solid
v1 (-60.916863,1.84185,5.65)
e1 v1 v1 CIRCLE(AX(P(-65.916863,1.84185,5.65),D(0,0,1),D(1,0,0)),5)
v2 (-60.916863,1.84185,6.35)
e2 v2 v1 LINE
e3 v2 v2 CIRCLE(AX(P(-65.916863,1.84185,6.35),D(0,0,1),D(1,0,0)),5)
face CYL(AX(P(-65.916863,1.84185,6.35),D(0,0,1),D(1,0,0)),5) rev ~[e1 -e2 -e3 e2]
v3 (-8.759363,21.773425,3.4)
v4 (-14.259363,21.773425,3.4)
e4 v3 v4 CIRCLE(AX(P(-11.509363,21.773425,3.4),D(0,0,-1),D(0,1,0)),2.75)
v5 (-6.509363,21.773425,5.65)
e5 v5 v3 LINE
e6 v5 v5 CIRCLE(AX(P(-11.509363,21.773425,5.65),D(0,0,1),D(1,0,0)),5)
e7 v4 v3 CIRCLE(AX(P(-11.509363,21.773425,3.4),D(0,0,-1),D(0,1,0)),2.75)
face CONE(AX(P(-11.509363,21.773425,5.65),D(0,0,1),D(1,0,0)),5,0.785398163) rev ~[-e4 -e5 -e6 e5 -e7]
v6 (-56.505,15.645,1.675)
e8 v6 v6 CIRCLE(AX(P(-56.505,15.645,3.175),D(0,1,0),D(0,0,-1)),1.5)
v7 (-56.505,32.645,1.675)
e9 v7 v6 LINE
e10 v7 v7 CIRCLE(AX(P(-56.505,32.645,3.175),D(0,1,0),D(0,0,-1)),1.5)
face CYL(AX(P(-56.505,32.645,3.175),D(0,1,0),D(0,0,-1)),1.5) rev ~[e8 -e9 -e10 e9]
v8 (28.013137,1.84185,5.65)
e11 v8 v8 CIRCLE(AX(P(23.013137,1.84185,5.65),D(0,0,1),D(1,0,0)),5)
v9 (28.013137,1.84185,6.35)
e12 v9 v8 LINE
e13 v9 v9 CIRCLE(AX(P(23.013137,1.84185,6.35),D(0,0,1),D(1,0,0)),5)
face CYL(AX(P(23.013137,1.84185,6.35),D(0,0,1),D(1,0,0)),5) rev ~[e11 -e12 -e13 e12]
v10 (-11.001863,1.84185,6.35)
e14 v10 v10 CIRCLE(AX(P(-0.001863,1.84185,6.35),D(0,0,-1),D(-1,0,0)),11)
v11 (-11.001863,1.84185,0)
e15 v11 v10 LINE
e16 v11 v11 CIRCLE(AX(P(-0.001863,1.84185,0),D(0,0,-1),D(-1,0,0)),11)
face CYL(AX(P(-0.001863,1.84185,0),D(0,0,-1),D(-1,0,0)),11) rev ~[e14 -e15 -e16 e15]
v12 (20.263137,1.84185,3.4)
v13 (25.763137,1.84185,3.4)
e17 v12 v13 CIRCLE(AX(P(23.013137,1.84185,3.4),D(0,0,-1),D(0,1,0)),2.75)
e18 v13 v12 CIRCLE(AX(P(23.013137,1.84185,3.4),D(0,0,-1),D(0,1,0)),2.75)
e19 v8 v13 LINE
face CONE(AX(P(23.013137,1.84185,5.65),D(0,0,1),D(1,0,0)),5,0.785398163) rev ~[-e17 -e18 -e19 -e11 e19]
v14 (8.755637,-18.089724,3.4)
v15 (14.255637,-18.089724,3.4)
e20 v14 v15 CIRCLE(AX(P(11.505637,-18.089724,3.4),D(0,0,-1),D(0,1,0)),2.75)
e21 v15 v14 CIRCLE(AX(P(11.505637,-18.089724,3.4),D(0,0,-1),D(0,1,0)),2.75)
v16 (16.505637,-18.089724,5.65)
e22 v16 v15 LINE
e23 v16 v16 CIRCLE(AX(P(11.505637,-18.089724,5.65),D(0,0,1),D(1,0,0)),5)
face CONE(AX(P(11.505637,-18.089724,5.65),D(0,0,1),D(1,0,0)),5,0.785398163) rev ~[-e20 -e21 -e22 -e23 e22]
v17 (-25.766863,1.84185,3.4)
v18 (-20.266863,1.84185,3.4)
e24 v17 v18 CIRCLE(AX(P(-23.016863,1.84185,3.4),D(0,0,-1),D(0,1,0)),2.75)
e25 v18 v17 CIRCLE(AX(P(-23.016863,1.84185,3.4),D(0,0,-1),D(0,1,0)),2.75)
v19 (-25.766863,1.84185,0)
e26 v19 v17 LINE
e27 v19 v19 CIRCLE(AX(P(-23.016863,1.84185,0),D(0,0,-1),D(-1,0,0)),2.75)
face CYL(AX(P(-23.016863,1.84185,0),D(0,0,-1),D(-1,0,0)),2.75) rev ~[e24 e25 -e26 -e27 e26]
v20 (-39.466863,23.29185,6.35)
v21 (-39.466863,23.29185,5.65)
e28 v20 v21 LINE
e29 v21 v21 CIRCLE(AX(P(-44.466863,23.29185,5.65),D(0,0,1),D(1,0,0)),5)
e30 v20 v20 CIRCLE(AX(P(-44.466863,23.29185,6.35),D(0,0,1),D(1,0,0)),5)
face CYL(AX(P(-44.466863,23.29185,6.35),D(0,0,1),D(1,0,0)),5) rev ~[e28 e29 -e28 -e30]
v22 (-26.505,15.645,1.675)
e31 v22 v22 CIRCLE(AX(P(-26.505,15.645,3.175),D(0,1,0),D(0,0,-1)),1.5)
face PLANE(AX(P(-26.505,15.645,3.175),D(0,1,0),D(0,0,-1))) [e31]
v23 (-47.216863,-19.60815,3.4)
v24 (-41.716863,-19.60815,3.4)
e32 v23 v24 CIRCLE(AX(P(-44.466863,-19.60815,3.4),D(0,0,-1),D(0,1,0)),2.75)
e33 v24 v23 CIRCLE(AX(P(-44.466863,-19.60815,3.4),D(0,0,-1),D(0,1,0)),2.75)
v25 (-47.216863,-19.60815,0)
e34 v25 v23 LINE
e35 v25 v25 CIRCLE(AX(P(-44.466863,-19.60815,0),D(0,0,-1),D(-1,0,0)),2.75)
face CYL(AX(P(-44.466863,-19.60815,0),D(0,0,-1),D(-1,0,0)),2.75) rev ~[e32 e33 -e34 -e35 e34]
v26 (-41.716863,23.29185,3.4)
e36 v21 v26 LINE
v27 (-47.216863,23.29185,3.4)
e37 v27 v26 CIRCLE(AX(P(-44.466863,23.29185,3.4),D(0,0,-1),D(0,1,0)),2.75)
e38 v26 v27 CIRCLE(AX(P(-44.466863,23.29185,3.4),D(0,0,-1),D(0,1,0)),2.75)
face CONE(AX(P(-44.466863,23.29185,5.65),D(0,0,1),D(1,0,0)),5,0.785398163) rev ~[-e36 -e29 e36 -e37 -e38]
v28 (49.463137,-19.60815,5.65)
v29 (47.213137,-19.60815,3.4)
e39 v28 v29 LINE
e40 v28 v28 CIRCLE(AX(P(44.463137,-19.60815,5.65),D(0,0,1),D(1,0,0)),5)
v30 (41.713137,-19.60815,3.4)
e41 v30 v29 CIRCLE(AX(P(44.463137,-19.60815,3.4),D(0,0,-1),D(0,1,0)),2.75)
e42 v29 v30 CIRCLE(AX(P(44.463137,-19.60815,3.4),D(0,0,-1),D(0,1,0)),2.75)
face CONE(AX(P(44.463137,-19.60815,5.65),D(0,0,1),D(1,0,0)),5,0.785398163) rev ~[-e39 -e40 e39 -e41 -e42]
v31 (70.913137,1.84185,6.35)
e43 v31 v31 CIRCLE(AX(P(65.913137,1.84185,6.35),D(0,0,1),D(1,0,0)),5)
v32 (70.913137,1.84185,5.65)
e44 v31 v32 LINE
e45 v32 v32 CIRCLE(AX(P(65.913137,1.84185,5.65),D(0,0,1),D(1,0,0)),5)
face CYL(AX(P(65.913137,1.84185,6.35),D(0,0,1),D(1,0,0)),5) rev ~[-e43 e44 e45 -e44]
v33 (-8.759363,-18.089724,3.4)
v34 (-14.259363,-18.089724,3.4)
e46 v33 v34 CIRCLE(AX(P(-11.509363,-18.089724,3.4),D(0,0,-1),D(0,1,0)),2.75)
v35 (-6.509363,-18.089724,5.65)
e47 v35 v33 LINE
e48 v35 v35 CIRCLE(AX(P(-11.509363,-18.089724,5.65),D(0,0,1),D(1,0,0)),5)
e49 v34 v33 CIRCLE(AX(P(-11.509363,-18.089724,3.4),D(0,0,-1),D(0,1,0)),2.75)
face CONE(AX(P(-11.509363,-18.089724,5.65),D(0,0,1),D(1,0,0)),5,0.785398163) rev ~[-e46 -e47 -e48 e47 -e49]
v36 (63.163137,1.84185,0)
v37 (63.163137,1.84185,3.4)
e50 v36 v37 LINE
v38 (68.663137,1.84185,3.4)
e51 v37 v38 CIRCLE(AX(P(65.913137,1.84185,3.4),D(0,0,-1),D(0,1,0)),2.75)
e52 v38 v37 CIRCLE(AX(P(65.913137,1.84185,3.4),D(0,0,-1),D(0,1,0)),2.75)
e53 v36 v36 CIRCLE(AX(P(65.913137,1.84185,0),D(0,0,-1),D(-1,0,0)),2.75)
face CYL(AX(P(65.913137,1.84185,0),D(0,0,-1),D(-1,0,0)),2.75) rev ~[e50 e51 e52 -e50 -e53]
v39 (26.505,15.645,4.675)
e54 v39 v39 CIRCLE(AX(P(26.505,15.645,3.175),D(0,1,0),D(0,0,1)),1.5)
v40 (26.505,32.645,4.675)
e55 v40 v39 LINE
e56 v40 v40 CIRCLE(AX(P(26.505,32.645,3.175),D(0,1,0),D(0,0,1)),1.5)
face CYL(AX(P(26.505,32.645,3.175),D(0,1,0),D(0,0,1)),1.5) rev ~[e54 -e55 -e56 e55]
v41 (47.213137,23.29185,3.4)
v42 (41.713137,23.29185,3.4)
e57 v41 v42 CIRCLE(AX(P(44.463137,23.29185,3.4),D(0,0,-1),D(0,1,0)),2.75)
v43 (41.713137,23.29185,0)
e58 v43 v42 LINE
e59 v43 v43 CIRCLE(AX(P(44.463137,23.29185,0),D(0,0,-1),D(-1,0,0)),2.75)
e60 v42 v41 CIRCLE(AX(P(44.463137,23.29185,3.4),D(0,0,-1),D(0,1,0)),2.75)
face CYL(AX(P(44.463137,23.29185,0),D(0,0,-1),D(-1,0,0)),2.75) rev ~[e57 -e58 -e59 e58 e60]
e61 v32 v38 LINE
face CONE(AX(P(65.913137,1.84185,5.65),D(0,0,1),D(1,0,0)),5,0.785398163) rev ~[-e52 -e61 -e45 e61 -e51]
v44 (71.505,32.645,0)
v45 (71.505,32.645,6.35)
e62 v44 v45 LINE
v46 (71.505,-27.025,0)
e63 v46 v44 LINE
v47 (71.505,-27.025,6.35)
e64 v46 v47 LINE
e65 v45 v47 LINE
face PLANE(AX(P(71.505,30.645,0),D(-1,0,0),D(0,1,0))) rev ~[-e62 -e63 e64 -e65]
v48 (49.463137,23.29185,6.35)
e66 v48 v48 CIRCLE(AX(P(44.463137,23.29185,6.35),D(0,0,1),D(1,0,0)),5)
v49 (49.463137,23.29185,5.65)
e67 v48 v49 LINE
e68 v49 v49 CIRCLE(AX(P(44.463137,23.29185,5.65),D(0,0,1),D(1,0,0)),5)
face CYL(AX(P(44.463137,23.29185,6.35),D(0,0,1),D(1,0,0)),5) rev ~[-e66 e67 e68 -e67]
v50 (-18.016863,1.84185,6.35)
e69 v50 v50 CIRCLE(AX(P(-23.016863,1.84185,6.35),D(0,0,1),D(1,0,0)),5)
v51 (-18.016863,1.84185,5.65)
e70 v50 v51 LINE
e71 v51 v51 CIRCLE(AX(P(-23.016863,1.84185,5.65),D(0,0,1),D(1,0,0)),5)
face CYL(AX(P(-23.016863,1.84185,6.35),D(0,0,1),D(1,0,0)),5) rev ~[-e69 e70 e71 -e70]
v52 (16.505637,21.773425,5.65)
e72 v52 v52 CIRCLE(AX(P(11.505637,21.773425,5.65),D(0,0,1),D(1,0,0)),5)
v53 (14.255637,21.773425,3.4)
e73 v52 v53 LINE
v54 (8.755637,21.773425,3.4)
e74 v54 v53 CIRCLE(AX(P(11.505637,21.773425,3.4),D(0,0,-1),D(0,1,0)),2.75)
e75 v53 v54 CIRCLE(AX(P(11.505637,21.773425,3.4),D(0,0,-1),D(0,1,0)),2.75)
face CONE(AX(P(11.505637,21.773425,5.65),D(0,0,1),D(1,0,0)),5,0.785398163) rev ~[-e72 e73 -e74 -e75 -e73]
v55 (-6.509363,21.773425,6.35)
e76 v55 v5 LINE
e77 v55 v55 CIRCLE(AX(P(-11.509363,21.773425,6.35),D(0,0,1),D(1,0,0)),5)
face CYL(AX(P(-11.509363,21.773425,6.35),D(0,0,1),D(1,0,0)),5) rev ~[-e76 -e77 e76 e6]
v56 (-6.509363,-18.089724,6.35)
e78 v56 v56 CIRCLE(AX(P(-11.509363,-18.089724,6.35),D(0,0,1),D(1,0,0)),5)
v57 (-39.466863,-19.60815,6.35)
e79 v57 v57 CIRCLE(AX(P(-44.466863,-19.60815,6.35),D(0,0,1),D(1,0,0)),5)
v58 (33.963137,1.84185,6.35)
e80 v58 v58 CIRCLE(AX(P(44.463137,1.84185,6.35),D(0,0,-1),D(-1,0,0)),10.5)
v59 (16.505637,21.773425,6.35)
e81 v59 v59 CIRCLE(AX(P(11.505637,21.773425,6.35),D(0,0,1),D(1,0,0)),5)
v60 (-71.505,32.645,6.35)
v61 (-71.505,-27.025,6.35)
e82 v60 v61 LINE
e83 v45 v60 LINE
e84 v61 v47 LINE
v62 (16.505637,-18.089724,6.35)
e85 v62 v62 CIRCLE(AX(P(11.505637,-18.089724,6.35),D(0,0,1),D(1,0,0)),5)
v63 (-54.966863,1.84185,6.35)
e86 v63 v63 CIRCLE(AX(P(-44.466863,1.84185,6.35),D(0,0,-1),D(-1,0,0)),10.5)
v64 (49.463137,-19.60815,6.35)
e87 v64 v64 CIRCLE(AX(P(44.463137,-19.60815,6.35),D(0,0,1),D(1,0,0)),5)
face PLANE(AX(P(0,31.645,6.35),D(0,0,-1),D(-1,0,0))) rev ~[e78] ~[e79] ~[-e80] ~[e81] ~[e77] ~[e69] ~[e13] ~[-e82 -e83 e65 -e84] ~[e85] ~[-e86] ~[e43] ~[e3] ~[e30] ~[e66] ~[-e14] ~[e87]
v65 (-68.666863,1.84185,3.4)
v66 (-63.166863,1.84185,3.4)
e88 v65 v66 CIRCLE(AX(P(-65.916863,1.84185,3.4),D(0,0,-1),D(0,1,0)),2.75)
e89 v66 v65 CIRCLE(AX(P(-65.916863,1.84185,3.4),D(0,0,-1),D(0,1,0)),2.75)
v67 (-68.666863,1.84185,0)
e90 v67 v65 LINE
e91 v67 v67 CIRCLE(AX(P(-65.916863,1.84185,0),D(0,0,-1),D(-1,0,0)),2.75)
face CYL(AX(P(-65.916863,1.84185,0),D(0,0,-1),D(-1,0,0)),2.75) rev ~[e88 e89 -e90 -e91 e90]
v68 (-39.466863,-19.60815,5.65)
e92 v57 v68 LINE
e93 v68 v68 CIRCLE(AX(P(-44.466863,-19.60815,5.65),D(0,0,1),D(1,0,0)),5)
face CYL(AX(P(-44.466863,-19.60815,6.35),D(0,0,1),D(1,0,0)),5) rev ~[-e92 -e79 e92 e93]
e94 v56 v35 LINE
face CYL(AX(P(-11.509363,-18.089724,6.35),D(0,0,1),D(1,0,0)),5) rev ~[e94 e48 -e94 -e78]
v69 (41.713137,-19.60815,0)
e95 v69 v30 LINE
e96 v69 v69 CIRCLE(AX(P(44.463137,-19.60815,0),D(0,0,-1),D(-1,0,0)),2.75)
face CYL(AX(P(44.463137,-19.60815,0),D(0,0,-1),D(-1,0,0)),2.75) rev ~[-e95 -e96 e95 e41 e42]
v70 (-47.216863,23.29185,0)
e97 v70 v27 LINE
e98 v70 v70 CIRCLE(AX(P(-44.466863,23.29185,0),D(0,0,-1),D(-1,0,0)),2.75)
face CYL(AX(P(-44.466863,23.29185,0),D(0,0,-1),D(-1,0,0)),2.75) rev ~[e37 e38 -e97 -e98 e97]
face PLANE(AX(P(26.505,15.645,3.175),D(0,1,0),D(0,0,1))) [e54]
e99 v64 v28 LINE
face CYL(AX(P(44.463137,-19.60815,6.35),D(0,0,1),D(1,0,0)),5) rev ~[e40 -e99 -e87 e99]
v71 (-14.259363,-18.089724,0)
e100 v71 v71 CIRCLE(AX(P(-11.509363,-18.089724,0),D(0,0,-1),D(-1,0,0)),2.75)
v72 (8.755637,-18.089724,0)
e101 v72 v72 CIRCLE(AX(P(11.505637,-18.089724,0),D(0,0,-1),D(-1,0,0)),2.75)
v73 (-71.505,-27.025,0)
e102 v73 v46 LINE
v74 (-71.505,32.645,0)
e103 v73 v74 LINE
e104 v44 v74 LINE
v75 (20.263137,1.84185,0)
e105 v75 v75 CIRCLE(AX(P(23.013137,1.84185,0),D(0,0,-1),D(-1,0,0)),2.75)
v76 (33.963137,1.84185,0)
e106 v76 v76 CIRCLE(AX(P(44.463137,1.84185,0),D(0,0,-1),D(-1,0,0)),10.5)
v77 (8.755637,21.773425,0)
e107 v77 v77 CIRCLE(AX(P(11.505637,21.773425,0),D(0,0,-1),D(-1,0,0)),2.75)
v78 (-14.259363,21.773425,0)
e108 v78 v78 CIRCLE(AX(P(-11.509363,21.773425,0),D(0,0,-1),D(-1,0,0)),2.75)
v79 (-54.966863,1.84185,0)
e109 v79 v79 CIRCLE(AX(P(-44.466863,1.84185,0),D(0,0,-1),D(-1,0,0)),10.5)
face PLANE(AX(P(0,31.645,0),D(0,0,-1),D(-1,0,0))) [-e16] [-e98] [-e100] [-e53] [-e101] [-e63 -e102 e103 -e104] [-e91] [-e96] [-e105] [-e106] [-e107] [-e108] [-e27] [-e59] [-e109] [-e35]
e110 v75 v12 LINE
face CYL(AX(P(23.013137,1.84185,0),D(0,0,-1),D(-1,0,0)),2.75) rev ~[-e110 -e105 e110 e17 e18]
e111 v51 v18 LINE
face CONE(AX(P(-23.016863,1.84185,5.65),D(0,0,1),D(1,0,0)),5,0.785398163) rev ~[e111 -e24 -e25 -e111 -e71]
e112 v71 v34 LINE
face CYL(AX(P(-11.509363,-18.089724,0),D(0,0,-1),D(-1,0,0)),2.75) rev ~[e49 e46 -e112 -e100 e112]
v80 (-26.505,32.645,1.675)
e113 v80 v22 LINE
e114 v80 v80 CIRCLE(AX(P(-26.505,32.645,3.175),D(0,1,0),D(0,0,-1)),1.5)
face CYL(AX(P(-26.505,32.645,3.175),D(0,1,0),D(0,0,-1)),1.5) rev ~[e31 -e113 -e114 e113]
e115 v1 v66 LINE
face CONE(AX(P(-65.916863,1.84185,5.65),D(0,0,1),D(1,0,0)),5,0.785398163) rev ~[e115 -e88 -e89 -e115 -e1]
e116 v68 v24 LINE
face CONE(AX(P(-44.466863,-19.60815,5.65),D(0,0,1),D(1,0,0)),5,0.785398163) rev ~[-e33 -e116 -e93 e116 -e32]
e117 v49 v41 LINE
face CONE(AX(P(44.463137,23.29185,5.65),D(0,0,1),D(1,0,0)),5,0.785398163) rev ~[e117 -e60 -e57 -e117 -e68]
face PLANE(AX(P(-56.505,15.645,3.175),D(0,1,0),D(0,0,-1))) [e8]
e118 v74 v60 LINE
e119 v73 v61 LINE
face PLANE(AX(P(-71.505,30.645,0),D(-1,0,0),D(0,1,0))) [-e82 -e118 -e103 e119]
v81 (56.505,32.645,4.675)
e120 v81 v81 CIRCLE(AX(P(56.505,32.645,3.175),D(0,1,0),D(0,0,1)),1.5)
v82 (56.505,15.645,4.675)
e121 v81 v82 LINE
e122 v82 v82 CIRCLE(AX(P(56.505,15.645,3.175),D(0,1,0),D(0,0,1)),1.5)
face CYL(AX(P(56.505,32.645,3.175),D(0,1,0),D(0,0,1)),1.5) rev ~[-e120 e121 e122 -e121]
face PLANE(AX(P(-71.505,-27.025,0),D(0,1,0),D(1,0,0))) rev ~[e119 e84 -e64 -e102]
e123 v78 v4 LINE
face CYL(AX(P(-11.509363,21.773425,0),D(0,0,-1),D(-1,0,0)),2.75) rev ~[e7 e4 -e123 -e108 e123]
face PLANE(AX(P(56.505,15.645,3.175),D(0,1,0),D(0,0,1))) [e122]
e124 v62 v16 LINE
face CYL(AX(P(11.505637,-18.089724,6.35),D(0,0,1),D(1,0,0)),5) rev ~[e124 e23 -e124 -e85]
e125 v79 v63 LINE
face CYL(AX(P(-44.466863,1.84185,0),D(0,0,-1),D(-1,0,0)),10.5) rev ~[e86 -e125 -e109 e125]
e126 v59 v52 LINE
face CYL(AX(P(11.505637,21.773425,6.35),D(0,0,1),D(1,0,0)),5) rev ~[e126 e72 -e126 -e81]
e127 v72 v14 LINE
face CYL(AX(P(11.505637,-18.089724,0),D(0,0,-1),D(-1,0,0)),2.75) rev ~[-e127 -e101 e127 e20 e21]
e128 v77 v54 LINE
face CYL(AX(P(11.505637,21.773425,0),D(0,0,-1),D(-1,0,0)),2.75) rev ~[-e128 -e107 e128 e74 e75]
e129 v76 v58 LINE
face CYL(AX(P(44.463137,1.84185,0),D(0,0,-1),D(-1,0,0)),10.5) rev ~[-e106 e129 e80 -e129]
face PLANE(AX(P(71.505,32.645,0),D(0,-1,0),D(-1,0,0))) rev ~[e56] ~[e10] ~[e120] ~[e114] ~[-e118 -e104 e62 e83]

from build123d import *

# Parameters (mm, degrees)
ESBO_O1_W                        = 143.01
ESBO_O1_H                        = 54.05
RESSALTO_EXTRUS_O1_DEPTH         = 6.35
ESBO_O2_R                        = 2.75
CORTE_EXTRUS_O1_DEPTH            = 10
ESBO_O3_R                        = 10.5
ESBO_O3_R_2                      = 11
CORTE_EXTRUS_O2_DEPTH            = 10
ESBO_O4_W                        = 143.01
ESBO_O4_H                        = 3.62
RESSALTO_EXTRUS_O2_DEPTH         = 6.35
CROQUIS1_W                       = 143.01
CROQUIS1_H                       = 2
SALIENTE_EXTRUIR1_DEPTH          = 6.35
ESBO_O8_R                        = 1.5
CORTE_EXTRUS_O3_DEPTH            = 17
ESBO_O9_R                        = 5
CORTE_EXTRUS_O4_DEPTH            = 0.7
ESBO_O12_R                       = 5
CORTE_EXTRUS_O5_DEPTH            = 2.5
CORTE_EXTRUS_O5_DRAFT            = -45
CORTE_EXTRUS_O5_PROFILE_2_DEPTH  = 2.5
CORTE_EXTRUS_O5_PROFILE_2_DRAFT  = -45
CORTE_EXTRUS_O5_PROFILE_3_DEPTH  = 2.5
CORTE_EXTRUS_O5_PROFILE_3_DRAFT  = -45
CORTE_EXTRUS_O5_PROFILE_4_DEPTH  = 2.5
CORTE_EXTRUS_O5_PROFILE_4_DRAFT  = -45
CORTE_EXTRUS_O5_PROFILE_5_DEPTH  = 2.5
CORTE_EXTRUS_O5_PROFILE_5_DRAFT  = -45
CORTE_EXTRUS_O5_PROFILE_6_DEPTH  = 2.5
CORTE_EXTRUS_O5_PROFILE_6_DRAFT  = -45
CORTE_EXTRUS_O5_PROFILE_7_DEPTH  = 2.5
CORTE_EXTRUS_O5_PROFILE_7_DRAFT  = -45
CORTE_EXTRUS_O5_PROFILE_8_DEPTH  = 2.5
CORTE_EXTRUS_O5_PROFILE_8_DRAFT  = -45
CORTE_EXTRUS_O5_PROFILE_9_DEPTH  = 2.5
CORTE_EXTRUS_O5_PROFILE_9_DRAFT  = -45
CORTE_EXTRUS_O5_PROFILE_10_DEPTH = 2.5
CORTE_EXTRUS_O5_PROFILE_10_DRAFT = -45
CORTE_EXTRUS_O5_PROFILE_11_DEPTH = 2.5
CORTE_EXTRUS_O5_PROFILE_11_DRAFT = -45
CORTE_EXTRUS_O5_PROFILE_12_DEPTH = 2.5
CORTE_EXTRUS_O5_PROFILE_12_DRAFT = -45


with BuildPart() as part:
    # Esboço1 → Ressalto-extrusão1 (new body)
    with BuildSketch(Plane.XY):
        Rectangle(ESBO_O1_W, ESBO_O1_H)
    extrude(amount=RESSALTO_EXTRUS_O1_DEPTH)

    # Esboço2 → Corte-extrusão1 (cut)
    with BuildSketch(Plane(origin=(0, 0, 0), x_dir=(-1, 0, 0), z_dir=(0, 0, -1))):
        with Locations((-44.463136928, 23.291850449)):
            Circle(ESBO_O2_R)
        with Locations((-65.913136928, 1.841850449)):
            Circle(ESBO_O2_R)
        with Locations((-44.463136928, -19.608149551)):
            Circle(ESBO_O2_R)
        with Locations((-23.013136928, 1.841850449)):
            Circle(ESBO_O2_R)
        with Locations((-11.505636928, 21.773425117)):
            Circle(ESBO_O2_R)
        with Locations((11.509363072, 21.773425117)):
            Circle(ESBO_O2_R)
        with Locations((23.016863072, 1.841850449)):
            Circle(ESBO_O2_R)
        with Locations((11.509363072, -18.089724219)):
            Circle(ESBO_O2_R)
        with Locations((-11.505636928, -18.089724219)):
            Circle(ESBO_O2_R)
        with Locations((44.466863072, -19.608149551)):
            Circle(ESBO_O2_R)
        with Locations((65.916863072, 1.841850449)):
            Circle(ESBO_O2_R)
        with Locations((44.466863072, 23.291850449)):
            Circle(ESBO_O2_R)
    extrude(amount=-CORTE_EXTRUS_O1_DEPTH, mode=Mode.SUBTRACT)

    # Esboço3 → Corte-extrusão2 (cut)
    with BuildSketch(Plane(origin=(0, 0, 0), x_dir=(-1, 0, 0), z_dir=(0, 0, -1))):
        with Locations((-44.463136928, 1.841850449)):
            Circle(ESBO_O3_R)
        with Locations((0.001863072, 1.841850449)):
            Circle(ESBO_O3_R_2)
        with Locations((44.466863072, 1.841850449)):
            Circle(ESBO_O3_R)
    extrude(amount=-CORTE_EXTRUS_O2_DEPTH, mode=Mode.SUBTRACT)

    # Esboço4 → Ressalto-extrusão2 (add)
    with BuildSketch(Plane.XY):
        with Locations((0, 28.835)):
            Rectangle(ESBO_O4_W, ESBO_O4_H)
    extrude(amount=RESSALTO_EXTRUS_O2_DEPTH)

    # Croquis1 → Saliente-Extruir1 (add)
    with BuildSketch(Plane(origin=(0, 0, 0), x_dir=(-1, 0, 0), z_dir=(0, 0, -1))):
        with Locations((0, 31.645)):
            Rectangle(CROQUIS1_W, CROQUIS1_H)
    extrude(amount=-SALIENTE_EXTRUIR1_DEPTH)

    # Esboço8 → Corte-extrusão3 (cut)
    with BuildSketch(Plane(origin=(0, 32.645, 0), x_dir=(1, 0, 0), z_dir=(0, 1, 0))):
        with Locations(Location((56.505, -3.175, 0), (0, 0, 270))):
            Circle(ESBO_O8_R)
        with Locations(Location((26.505, -3.175, 0), (0, 0, 270))):
            Circle(ESBO_O8_R)
        with Locations(Location((-26.505, -3.175, 0), (0, 0, 90))):
            Circle(ESBO_O8_R)
        with Locations(Location((-56.505, -3.175, 0), (0, 0, 90))):
            Circle(ESBO_O8_R)
    extrude(amount=-CORTE_EXTRUS_O3_DEPTH, mode=Mode.SUBTRACT)

    # Esboço9 → Corte-extrusão4 (cut)
    with BuildSketch(Plane.XY.offset(6.35)):
        with Locations((44.463136928, -19.608149551)):
            Circle(ESBO_O9_R)
        with Locations((65.913136928, 1.841850449)):
            Circle(ESBO_O9_R)
        with Locations((44.463136928, 23.291850449)):
            Circle(ESBO_O9_R)
        with Locations((23.013136928, 1.841850449)):
            Circle(ESBO_O9_R)
        with Locations((11.505636928, -18.089724219)):
            Circle(ESBO_O9_R)
        with Locations((11.505636928, 21.773425117)):
            Circle(ESBO_O9_R)
        with Locations((-11.509363072, 21.773425117)):
            Circle(ESBO_O9_R)
        with Locations((-23.016863072, 1.841850449)):
            Circle(ESBO_O9_R)
        with Locations((-11.509363072, -18.089724219)):
            Circle(ESBO_O9_R)
        with Locations((-44.466863072, 23.291850449)):
            Circle(ESBO_O9_R)
        with Locations((-65.916863072, 1.841850449)):
            Circle(ESBO_O9_R)
        with Locations((-44.466863072, -19.608149551)):
            Circle(ESBO_O9_R)
    extrude(amount=-CORTE_EXTRUS_O4_DEPTH, mode=Mode.SUBTRACT)


with BuildPart() as corte_extrus_o5_tool:
    # Esboço12 → Corte-extrusão5 (with draft: the straight prism first)
    with BuildSketch(Plane.XY.offset(5.65)):
        with Locations((-65.916863072, 1.841850449)):
            Circle(ESBO_O12_R)
    extrude(amount=-CORTE_EXTRUS_O5_DEPTH)
    # Corte-extrusão5: the draft: its side faces are tilted about the plane it starts from
    corte_extrus_o5_sides = [corte_extrus_o5_tool.faces().sort_by_distance(p)[0] for p in [
        (-70.916863072, 1.841850449, 4.4),
    ]]
    draft(corte_extrus_o5_sides, Plane.XY.offset(5.65), CORTE_EXTRUS_O5_DRAFT)


with BuildPart() as part_1:
    add(part.part)

    # Corte-extrusão5: cut by corte_extrus_o5_tool
    add(corte_extrus_o5_tool.part, mode=Mode.SUBTRACT)


with BuildPart() as corte_extrus_o5_profile_2_tool:
    # Esboço12 → Corte-extrusão5 profile 2 (with draft: the straight prism first)
    with BuildSketch(Plane.XY.offset(5.65)):
        with Locations((-44.466863072, 23.291850449)):
            Circle(ESBO_O12_R)
    extrude(amount=-CORTE_EXTRUS_O5_PROFILE_2_DEPTH)
    # Corte-extrusão5 profile 2: the draft: its side faces are tilted about the plane it starts from
    corte_extrus_o5_profile_2_sides = [corte_extrus_o5_profile_2_tool.faces().sort_by_distance(p)[0] for p in [
        (-49.466863072, 23.291850449, 4.4),
    ]]
    draft(corte_extrus_o5_profile_2_sides, Plane.XY.offset(5.65), CORTE_EXTRUS_O5_PROFILE_2_DRAFT)


with BuildPart() as part_2:
    add(part_1.part)

    # Corte-extrusão5 profile 2: cut by corte_extrus_o5_profile_2_tool
    add(corte_extrus_o5_profile_2_tool.part, mode=Mode.SUBTRACT)


with BuildPart() as corte_extrus_o5_profile_3_tool:
    # Esboço12 → Corte-extrusão5 profile 3 (with draft: the straight prism first)
    with BuildSketch(Plane.XY.offset(5.65)):
        with Locations((-23.016863072, 1.841850449)):
            Circle(ESBO_O12_R)
    extrude(amount=-CORTE_EXTRUS_O5_PROFILE_3_DEPTH)
    # Corte-extrusão5 profile 3: the draft: its side faces are tilted about the plane it starts from
    corte_extrus_o5_profile_3_sides = [corte_extrus_o5_profile_3_tool.faces().sort_by_distance(p)[0] for p in [
        (-28.016863072, 1.841850449, 4.4),
    ]]
    draft(corte_extrus_o5_profile_3_sides, Plane.XY.offset(5.65), CORTE_EXTRUS_O5_PROFILE_3_DRAFT)


with BuildPart() as part_3:
    add(part_2.part)

    # Corte-extrusão5 profile 3: cut by corte_extrus_o5_profile_3_tool
    add(corte_extrus_o5_profile_3_tool.part, mode=Mode.SUBTRACT)


with BuildPart() as corte_extrus_o5_profile_4_tool:
    # Esboço12 → Corte-extrusão5 profile 4 (with draft: the straight prism first)
    with BuildSketch(Plane.XY.offset(5.65)):
        with Locations((-11.509363072, 21.773425117)):
            Circle(ESBO_O12_R)
    extrude(amount=-CORTE_EXTRUS_O5_PROFILE_4_DEPTH)
    # Corte-extrusão5 profile 4: the draft: its side faces are tilted about the plane it starts from
    corte_extrus_o5_profile_4_sides = [corte_extrus_o5_profile_4_tool.faces().sort_by_distance(p)[0] for p in [
        (-16.509363072, 21.773425117, 4.4),
    ]]
    draft(corte_extrus_o5_profile_4_sides, Plane.XY.offset(5.65), CORTE_EXTRUS_O5_PROFILE_4_DRAFT)


with BuildPart() as part_4:
    add(part_3.part)

    # Corte-extrusão5 profile 4: cut by corte_extrus_o5_profile_4_tool
    add(corte_extrus_o5_profile_4_tool.part, mode=Mode.SUBTRACT)


with BuildPart() as corte_extrus_o5_profile_5_tool:
    # Esboço12 → Corte-extrusão5 profile 5 (with draft: the straight prism first)
    with BuildSketch(Plane.XY.offset(5.65)):
        with Locations((-44.466863072, -19.608149551)):
            Circle(ESBO_O12_R)
    extrude(amount=-CORTE_EXTRUS_O5_PROFILE_5_DEPTH)
    # Corte-extrusão5 profile 5: the draft: its side faces are tilted about the plane it starts from
    corte_extrus_o5_profile_5_sides = [corte_extrus_o5_profile_5_tool.faces().sort_by_distance(p)[0] for p in [
        (-49.466863072, -19.608149551, 4.4),
    ]]
    draft(corte_extrus_o5_profile_5_sides, Plane.XY.offset(5.65), CORTE_EXTRUS_O5_PROFILE_5_DRAFT)


with BuildPart() as part_5:
    add(part_4.part)

    # Corte-extrusão5 profile 5: cut by corte_extrus_o5_profile_5_tool
    add(corte_extrus_o5_profile_5_tool.part, mode=Mode.SUBTRACT)


with BuildPart() as corte_extrus_o5_profile_6_tool:
    # Esboço12 → Corte-extrusão5 profile 6 (with draft: the straight prism first)
    with BuildSketch(Plane.XY.offset(5.65)):
        with Locations((-11.509363072, -18.089724219)):
            Circle(ESBO_O12_R)
    extrude(amount=-CORTE_EXTRUS_O5_PROFILE_6_DEPTH)
    # Corte-extrusão5 profile 6: the draft: its side faces are tilted about the plane it starts from
    corte_extrus_o5_profile_6_sides = [corte_extrus_o5_profile_6_tool.faces().sort_by_distance(p)[0] for p in [
        (-16.509363072, -18.089724219, 4.4),
    ]]
    draft(corte_extrus_o5_profile_6_sides, Plane.XY.offset(5.65), CORTE_EXTRUS_O5_PROFILE_6_DRAFT)


with BuildPart() as part_6:
    add(part_5.part)

    # Corte-extrusão5 profile 6: cut by corte_extrus_o5_profile_6_tool
    add(corte_extrus_o5_profile_6_tool.part, mode=Mode.SUBTRACT)


with BuildPart() as corte_extrus_o5_profile_7_tool:
    # Esboço12 → Corte-extrusão5 profile 7 (with draft: the straight prism first)
    with BuildSketch(Plane.XY.offset(5.65)):
        with Locations((11.505636928, -18.089724219)):
            Circle(ESBO_O12_R)
    extrude(amount=-CORTE_EXTRUS_O5_PROFILE_7_DEPTH)
    # Corte-extrusão5 profile 7: the draft: its side faces are tilted about the plane it starts from
    corte_extrus_o5_profile_7_sides = [corte_extrus_o5_profile_7_tool.faces().sort_by_distance(p)[0] for p in [
        (6.505636928, -18.089724219, 4.4),
    ]]
    draft(corte_extrus_o5_profile_7_sides, Plane.XY.offset(5.65), CORTE_EXTRUS_O5_PROFILE_7_DRAFT)


with BuildPart() as part_7:
    add(part_6.part)

    # Corte-extrusão5 profile 7: cut by corte_extrus_o5_profile_7_tool
    add(corte_extrus_o5_profile_7_tool.part, mode=Mode.SUBTRACT)


with BuildPart() as corte_extrus_o5_profile_8_tool:
    # Esboço12 → Corte-extrusão5 profile 8 (with draft: the straight prism first)
    with BuildSketch(Plane.XY.offset(5.65)):
        with Locations((44.463136928, -19.608149551)):
            Circle(ESBO_O12_R)
    extrude(amount=-CORTE_EXTRUS_O5_PROFILE_8_DEPTH)
    # Corte-extrusão5 profile 8: the draft: its side faces are tilted about the plane it starts from
    corte_extrus_o5_profile_8_sides = [corte_extrus_o5_profile_8_tool.faces().sort_by_distance(p)[0] for p in [
        (39.463136928, -19.608149551, 4.4),
    ]]
    draft(corte_extrus_o5_profile_8_sides, Plane.XY.offset(5.65), CORTE_EXTRUS_O5_PROFILE_8_DRAFT)


with BuildPart() as part_8:
    add(part_7.part)

    # Corte-extrusão5 profile 8: cut by corte_extrus_o5_profile_8_tool
    add(corte_extrus_o5_profile_8_tool.part, mode=Mode.SUBTRACT)


with BuildPart() as corte_extrus_o5_profile_9_tool:
    # Esboço12 → Corte-extrusão5 profile 9 (with draft: the straight prism first)
    with BuildSketch(Plane.XY.offset(5.65)):
        with Locations((23.013136928, 1.841850449)):
            Circle(ESBO_O12_R)
    extrude(amount=-CORTE_EXTRUS_O5_PROFILE_9_DEPTH)
    # Corte-extrusão5 profile 9: the draft: its side faces are tilted about the plane it starts from
    corte_extrus_o5_profile_9_sides = [corte_extrus_o5_profile_9_tool.faces().sort_by_distance(p)[0] for p in [
        (18.013136928, 1.841850449, 4.4),
    ]]
    draft(corte_extrus_o5_profile_9_sides, Plane.XY.offset(5.65), CORTE_EXTRUS_O5_PROFILE_9_DRAFT)


with BuildPart() as part_9:
    add(part_8.part)

    # Corte-extrusão5 profile 9: cut by corte_extrus_o5_profile_9_tool
    add(corte_extrus_o5_profile_9_tool.part, mode=Mode.SUBTRACT)


with BuildPart() as corte_extrus_o5_profile_10_tool:
    # Esboço12 → Corte-extrusão5 profile 10 (with draft: the straight prism first)
    with BuildSketch(Plane.XY.offset(5.65)):
        with Locations((65.913136928, 1.841850449)):
            Circle(ESBO_O12_R)
    extrude(amount=-CORTE_EXTRUS_O5_PROFILE_10_DEPTH)
    # Corte-extrusão5 profile 10: the draft: its side faces are tilted about the plane it starts from
    corte_extrus_o5_profile_10_sides = [corte_extrus_o5_profile_10_tool.faces().sort_by_distance(p)[0] for p in [
        (60.913136928, 1.841850449, 4.4),
    ]]
    draft(corte_extrus_o5_profile_10_sides, Plane.XY.offset(5.65), CORTE_EXTRUS_O5_PROFILE_10_DRAFT)


with BuildPart() as part_10:
    add(part_9.part)

    # Corte-extrusão5 profile 10: cut by corte_extrus_o5_profile_10_tool
    add(corte_extrus_o5_profile_10_tool.part, mode=Mode.SUBTRACT)


with BuildPart() as corte_extrus_o5_profile_11_tool:
    # Esboço12 → Corte-extrusão5 profile 11 (with draft: the straight prism first)
    with BuildSketch(Plane.XY.offset(5.65)):
        with Locations((44.463136928, 23.291850449)):
            Circle(ESBO_O12_R)
    extrude(amount=-CORTE_EXTRUS_O5_PROFILE_11_DEPTH)
    # Corte-extrusão5 profile 11: the draft: its side faces are tilted about the plane it starts from
    corte_extrus_o5_profile_11_sides = [corte_extrus_o5_profile_11_tool.faces().sort_by_distance(p)[0] for p in [
        (39.463136928, 23.291850449, 4.4),
    ]]
    draft(corte_extrus_o5_profile_11_sides, Plane.XY.offset(5.65), CORTE_EXTRUS_O5_PROFILE_11_DRAFT)


with BuildPart() as part_11:
    add(part_10.part)

    # Corte-extrusão5 profile 11: cut by corte_extrus_o5_profile_11_tool
    add(corte_extrus_o5_profile_11_tool.part, mode=Mode.SUBTRACT)


with BuildPart() as corte_extrus_o5_profile_12_tool:
    # Esboço12 → Corte-extrusão5 profile 12 (with draft: the straight prism first)
    with BuildSketch(Plane.XY.offset(5.65)):
        with Locations((11.505636928, 21.773425117)):
            Circle(ESBO_O12_R)
    extrude(amount=-CORTE_EXTRUS_O5_PROFILE_12_DEPTH)
    # Corte-extrusão5 profile 12: the draft: its side faces are tilted about the plane it starts from
    corte_extrus_o5_profile_12_sides = [corte_extrus_o5_profile_12_tool.faces().sort_by_distance(p)[0] for p in [
        (6.505636928, 21.773425117, 4.4),
    ]]
    draft(corte_extrus_o5_profile_12_sides, Plane.XY.offset(5.65), CORTE_EXTRUS_O5_PROFILE_12_DRAFT)


with BuildPart() as part_12:
    add(part_11.part)

    # Corte-extrusão5 profile 12: cut by corte_extrus_o5_profile_12_tool
    add(corte_extrus_o5_profile_12_tool.part, mode=Mode.SUBTRACT)


solid = part_12.part
